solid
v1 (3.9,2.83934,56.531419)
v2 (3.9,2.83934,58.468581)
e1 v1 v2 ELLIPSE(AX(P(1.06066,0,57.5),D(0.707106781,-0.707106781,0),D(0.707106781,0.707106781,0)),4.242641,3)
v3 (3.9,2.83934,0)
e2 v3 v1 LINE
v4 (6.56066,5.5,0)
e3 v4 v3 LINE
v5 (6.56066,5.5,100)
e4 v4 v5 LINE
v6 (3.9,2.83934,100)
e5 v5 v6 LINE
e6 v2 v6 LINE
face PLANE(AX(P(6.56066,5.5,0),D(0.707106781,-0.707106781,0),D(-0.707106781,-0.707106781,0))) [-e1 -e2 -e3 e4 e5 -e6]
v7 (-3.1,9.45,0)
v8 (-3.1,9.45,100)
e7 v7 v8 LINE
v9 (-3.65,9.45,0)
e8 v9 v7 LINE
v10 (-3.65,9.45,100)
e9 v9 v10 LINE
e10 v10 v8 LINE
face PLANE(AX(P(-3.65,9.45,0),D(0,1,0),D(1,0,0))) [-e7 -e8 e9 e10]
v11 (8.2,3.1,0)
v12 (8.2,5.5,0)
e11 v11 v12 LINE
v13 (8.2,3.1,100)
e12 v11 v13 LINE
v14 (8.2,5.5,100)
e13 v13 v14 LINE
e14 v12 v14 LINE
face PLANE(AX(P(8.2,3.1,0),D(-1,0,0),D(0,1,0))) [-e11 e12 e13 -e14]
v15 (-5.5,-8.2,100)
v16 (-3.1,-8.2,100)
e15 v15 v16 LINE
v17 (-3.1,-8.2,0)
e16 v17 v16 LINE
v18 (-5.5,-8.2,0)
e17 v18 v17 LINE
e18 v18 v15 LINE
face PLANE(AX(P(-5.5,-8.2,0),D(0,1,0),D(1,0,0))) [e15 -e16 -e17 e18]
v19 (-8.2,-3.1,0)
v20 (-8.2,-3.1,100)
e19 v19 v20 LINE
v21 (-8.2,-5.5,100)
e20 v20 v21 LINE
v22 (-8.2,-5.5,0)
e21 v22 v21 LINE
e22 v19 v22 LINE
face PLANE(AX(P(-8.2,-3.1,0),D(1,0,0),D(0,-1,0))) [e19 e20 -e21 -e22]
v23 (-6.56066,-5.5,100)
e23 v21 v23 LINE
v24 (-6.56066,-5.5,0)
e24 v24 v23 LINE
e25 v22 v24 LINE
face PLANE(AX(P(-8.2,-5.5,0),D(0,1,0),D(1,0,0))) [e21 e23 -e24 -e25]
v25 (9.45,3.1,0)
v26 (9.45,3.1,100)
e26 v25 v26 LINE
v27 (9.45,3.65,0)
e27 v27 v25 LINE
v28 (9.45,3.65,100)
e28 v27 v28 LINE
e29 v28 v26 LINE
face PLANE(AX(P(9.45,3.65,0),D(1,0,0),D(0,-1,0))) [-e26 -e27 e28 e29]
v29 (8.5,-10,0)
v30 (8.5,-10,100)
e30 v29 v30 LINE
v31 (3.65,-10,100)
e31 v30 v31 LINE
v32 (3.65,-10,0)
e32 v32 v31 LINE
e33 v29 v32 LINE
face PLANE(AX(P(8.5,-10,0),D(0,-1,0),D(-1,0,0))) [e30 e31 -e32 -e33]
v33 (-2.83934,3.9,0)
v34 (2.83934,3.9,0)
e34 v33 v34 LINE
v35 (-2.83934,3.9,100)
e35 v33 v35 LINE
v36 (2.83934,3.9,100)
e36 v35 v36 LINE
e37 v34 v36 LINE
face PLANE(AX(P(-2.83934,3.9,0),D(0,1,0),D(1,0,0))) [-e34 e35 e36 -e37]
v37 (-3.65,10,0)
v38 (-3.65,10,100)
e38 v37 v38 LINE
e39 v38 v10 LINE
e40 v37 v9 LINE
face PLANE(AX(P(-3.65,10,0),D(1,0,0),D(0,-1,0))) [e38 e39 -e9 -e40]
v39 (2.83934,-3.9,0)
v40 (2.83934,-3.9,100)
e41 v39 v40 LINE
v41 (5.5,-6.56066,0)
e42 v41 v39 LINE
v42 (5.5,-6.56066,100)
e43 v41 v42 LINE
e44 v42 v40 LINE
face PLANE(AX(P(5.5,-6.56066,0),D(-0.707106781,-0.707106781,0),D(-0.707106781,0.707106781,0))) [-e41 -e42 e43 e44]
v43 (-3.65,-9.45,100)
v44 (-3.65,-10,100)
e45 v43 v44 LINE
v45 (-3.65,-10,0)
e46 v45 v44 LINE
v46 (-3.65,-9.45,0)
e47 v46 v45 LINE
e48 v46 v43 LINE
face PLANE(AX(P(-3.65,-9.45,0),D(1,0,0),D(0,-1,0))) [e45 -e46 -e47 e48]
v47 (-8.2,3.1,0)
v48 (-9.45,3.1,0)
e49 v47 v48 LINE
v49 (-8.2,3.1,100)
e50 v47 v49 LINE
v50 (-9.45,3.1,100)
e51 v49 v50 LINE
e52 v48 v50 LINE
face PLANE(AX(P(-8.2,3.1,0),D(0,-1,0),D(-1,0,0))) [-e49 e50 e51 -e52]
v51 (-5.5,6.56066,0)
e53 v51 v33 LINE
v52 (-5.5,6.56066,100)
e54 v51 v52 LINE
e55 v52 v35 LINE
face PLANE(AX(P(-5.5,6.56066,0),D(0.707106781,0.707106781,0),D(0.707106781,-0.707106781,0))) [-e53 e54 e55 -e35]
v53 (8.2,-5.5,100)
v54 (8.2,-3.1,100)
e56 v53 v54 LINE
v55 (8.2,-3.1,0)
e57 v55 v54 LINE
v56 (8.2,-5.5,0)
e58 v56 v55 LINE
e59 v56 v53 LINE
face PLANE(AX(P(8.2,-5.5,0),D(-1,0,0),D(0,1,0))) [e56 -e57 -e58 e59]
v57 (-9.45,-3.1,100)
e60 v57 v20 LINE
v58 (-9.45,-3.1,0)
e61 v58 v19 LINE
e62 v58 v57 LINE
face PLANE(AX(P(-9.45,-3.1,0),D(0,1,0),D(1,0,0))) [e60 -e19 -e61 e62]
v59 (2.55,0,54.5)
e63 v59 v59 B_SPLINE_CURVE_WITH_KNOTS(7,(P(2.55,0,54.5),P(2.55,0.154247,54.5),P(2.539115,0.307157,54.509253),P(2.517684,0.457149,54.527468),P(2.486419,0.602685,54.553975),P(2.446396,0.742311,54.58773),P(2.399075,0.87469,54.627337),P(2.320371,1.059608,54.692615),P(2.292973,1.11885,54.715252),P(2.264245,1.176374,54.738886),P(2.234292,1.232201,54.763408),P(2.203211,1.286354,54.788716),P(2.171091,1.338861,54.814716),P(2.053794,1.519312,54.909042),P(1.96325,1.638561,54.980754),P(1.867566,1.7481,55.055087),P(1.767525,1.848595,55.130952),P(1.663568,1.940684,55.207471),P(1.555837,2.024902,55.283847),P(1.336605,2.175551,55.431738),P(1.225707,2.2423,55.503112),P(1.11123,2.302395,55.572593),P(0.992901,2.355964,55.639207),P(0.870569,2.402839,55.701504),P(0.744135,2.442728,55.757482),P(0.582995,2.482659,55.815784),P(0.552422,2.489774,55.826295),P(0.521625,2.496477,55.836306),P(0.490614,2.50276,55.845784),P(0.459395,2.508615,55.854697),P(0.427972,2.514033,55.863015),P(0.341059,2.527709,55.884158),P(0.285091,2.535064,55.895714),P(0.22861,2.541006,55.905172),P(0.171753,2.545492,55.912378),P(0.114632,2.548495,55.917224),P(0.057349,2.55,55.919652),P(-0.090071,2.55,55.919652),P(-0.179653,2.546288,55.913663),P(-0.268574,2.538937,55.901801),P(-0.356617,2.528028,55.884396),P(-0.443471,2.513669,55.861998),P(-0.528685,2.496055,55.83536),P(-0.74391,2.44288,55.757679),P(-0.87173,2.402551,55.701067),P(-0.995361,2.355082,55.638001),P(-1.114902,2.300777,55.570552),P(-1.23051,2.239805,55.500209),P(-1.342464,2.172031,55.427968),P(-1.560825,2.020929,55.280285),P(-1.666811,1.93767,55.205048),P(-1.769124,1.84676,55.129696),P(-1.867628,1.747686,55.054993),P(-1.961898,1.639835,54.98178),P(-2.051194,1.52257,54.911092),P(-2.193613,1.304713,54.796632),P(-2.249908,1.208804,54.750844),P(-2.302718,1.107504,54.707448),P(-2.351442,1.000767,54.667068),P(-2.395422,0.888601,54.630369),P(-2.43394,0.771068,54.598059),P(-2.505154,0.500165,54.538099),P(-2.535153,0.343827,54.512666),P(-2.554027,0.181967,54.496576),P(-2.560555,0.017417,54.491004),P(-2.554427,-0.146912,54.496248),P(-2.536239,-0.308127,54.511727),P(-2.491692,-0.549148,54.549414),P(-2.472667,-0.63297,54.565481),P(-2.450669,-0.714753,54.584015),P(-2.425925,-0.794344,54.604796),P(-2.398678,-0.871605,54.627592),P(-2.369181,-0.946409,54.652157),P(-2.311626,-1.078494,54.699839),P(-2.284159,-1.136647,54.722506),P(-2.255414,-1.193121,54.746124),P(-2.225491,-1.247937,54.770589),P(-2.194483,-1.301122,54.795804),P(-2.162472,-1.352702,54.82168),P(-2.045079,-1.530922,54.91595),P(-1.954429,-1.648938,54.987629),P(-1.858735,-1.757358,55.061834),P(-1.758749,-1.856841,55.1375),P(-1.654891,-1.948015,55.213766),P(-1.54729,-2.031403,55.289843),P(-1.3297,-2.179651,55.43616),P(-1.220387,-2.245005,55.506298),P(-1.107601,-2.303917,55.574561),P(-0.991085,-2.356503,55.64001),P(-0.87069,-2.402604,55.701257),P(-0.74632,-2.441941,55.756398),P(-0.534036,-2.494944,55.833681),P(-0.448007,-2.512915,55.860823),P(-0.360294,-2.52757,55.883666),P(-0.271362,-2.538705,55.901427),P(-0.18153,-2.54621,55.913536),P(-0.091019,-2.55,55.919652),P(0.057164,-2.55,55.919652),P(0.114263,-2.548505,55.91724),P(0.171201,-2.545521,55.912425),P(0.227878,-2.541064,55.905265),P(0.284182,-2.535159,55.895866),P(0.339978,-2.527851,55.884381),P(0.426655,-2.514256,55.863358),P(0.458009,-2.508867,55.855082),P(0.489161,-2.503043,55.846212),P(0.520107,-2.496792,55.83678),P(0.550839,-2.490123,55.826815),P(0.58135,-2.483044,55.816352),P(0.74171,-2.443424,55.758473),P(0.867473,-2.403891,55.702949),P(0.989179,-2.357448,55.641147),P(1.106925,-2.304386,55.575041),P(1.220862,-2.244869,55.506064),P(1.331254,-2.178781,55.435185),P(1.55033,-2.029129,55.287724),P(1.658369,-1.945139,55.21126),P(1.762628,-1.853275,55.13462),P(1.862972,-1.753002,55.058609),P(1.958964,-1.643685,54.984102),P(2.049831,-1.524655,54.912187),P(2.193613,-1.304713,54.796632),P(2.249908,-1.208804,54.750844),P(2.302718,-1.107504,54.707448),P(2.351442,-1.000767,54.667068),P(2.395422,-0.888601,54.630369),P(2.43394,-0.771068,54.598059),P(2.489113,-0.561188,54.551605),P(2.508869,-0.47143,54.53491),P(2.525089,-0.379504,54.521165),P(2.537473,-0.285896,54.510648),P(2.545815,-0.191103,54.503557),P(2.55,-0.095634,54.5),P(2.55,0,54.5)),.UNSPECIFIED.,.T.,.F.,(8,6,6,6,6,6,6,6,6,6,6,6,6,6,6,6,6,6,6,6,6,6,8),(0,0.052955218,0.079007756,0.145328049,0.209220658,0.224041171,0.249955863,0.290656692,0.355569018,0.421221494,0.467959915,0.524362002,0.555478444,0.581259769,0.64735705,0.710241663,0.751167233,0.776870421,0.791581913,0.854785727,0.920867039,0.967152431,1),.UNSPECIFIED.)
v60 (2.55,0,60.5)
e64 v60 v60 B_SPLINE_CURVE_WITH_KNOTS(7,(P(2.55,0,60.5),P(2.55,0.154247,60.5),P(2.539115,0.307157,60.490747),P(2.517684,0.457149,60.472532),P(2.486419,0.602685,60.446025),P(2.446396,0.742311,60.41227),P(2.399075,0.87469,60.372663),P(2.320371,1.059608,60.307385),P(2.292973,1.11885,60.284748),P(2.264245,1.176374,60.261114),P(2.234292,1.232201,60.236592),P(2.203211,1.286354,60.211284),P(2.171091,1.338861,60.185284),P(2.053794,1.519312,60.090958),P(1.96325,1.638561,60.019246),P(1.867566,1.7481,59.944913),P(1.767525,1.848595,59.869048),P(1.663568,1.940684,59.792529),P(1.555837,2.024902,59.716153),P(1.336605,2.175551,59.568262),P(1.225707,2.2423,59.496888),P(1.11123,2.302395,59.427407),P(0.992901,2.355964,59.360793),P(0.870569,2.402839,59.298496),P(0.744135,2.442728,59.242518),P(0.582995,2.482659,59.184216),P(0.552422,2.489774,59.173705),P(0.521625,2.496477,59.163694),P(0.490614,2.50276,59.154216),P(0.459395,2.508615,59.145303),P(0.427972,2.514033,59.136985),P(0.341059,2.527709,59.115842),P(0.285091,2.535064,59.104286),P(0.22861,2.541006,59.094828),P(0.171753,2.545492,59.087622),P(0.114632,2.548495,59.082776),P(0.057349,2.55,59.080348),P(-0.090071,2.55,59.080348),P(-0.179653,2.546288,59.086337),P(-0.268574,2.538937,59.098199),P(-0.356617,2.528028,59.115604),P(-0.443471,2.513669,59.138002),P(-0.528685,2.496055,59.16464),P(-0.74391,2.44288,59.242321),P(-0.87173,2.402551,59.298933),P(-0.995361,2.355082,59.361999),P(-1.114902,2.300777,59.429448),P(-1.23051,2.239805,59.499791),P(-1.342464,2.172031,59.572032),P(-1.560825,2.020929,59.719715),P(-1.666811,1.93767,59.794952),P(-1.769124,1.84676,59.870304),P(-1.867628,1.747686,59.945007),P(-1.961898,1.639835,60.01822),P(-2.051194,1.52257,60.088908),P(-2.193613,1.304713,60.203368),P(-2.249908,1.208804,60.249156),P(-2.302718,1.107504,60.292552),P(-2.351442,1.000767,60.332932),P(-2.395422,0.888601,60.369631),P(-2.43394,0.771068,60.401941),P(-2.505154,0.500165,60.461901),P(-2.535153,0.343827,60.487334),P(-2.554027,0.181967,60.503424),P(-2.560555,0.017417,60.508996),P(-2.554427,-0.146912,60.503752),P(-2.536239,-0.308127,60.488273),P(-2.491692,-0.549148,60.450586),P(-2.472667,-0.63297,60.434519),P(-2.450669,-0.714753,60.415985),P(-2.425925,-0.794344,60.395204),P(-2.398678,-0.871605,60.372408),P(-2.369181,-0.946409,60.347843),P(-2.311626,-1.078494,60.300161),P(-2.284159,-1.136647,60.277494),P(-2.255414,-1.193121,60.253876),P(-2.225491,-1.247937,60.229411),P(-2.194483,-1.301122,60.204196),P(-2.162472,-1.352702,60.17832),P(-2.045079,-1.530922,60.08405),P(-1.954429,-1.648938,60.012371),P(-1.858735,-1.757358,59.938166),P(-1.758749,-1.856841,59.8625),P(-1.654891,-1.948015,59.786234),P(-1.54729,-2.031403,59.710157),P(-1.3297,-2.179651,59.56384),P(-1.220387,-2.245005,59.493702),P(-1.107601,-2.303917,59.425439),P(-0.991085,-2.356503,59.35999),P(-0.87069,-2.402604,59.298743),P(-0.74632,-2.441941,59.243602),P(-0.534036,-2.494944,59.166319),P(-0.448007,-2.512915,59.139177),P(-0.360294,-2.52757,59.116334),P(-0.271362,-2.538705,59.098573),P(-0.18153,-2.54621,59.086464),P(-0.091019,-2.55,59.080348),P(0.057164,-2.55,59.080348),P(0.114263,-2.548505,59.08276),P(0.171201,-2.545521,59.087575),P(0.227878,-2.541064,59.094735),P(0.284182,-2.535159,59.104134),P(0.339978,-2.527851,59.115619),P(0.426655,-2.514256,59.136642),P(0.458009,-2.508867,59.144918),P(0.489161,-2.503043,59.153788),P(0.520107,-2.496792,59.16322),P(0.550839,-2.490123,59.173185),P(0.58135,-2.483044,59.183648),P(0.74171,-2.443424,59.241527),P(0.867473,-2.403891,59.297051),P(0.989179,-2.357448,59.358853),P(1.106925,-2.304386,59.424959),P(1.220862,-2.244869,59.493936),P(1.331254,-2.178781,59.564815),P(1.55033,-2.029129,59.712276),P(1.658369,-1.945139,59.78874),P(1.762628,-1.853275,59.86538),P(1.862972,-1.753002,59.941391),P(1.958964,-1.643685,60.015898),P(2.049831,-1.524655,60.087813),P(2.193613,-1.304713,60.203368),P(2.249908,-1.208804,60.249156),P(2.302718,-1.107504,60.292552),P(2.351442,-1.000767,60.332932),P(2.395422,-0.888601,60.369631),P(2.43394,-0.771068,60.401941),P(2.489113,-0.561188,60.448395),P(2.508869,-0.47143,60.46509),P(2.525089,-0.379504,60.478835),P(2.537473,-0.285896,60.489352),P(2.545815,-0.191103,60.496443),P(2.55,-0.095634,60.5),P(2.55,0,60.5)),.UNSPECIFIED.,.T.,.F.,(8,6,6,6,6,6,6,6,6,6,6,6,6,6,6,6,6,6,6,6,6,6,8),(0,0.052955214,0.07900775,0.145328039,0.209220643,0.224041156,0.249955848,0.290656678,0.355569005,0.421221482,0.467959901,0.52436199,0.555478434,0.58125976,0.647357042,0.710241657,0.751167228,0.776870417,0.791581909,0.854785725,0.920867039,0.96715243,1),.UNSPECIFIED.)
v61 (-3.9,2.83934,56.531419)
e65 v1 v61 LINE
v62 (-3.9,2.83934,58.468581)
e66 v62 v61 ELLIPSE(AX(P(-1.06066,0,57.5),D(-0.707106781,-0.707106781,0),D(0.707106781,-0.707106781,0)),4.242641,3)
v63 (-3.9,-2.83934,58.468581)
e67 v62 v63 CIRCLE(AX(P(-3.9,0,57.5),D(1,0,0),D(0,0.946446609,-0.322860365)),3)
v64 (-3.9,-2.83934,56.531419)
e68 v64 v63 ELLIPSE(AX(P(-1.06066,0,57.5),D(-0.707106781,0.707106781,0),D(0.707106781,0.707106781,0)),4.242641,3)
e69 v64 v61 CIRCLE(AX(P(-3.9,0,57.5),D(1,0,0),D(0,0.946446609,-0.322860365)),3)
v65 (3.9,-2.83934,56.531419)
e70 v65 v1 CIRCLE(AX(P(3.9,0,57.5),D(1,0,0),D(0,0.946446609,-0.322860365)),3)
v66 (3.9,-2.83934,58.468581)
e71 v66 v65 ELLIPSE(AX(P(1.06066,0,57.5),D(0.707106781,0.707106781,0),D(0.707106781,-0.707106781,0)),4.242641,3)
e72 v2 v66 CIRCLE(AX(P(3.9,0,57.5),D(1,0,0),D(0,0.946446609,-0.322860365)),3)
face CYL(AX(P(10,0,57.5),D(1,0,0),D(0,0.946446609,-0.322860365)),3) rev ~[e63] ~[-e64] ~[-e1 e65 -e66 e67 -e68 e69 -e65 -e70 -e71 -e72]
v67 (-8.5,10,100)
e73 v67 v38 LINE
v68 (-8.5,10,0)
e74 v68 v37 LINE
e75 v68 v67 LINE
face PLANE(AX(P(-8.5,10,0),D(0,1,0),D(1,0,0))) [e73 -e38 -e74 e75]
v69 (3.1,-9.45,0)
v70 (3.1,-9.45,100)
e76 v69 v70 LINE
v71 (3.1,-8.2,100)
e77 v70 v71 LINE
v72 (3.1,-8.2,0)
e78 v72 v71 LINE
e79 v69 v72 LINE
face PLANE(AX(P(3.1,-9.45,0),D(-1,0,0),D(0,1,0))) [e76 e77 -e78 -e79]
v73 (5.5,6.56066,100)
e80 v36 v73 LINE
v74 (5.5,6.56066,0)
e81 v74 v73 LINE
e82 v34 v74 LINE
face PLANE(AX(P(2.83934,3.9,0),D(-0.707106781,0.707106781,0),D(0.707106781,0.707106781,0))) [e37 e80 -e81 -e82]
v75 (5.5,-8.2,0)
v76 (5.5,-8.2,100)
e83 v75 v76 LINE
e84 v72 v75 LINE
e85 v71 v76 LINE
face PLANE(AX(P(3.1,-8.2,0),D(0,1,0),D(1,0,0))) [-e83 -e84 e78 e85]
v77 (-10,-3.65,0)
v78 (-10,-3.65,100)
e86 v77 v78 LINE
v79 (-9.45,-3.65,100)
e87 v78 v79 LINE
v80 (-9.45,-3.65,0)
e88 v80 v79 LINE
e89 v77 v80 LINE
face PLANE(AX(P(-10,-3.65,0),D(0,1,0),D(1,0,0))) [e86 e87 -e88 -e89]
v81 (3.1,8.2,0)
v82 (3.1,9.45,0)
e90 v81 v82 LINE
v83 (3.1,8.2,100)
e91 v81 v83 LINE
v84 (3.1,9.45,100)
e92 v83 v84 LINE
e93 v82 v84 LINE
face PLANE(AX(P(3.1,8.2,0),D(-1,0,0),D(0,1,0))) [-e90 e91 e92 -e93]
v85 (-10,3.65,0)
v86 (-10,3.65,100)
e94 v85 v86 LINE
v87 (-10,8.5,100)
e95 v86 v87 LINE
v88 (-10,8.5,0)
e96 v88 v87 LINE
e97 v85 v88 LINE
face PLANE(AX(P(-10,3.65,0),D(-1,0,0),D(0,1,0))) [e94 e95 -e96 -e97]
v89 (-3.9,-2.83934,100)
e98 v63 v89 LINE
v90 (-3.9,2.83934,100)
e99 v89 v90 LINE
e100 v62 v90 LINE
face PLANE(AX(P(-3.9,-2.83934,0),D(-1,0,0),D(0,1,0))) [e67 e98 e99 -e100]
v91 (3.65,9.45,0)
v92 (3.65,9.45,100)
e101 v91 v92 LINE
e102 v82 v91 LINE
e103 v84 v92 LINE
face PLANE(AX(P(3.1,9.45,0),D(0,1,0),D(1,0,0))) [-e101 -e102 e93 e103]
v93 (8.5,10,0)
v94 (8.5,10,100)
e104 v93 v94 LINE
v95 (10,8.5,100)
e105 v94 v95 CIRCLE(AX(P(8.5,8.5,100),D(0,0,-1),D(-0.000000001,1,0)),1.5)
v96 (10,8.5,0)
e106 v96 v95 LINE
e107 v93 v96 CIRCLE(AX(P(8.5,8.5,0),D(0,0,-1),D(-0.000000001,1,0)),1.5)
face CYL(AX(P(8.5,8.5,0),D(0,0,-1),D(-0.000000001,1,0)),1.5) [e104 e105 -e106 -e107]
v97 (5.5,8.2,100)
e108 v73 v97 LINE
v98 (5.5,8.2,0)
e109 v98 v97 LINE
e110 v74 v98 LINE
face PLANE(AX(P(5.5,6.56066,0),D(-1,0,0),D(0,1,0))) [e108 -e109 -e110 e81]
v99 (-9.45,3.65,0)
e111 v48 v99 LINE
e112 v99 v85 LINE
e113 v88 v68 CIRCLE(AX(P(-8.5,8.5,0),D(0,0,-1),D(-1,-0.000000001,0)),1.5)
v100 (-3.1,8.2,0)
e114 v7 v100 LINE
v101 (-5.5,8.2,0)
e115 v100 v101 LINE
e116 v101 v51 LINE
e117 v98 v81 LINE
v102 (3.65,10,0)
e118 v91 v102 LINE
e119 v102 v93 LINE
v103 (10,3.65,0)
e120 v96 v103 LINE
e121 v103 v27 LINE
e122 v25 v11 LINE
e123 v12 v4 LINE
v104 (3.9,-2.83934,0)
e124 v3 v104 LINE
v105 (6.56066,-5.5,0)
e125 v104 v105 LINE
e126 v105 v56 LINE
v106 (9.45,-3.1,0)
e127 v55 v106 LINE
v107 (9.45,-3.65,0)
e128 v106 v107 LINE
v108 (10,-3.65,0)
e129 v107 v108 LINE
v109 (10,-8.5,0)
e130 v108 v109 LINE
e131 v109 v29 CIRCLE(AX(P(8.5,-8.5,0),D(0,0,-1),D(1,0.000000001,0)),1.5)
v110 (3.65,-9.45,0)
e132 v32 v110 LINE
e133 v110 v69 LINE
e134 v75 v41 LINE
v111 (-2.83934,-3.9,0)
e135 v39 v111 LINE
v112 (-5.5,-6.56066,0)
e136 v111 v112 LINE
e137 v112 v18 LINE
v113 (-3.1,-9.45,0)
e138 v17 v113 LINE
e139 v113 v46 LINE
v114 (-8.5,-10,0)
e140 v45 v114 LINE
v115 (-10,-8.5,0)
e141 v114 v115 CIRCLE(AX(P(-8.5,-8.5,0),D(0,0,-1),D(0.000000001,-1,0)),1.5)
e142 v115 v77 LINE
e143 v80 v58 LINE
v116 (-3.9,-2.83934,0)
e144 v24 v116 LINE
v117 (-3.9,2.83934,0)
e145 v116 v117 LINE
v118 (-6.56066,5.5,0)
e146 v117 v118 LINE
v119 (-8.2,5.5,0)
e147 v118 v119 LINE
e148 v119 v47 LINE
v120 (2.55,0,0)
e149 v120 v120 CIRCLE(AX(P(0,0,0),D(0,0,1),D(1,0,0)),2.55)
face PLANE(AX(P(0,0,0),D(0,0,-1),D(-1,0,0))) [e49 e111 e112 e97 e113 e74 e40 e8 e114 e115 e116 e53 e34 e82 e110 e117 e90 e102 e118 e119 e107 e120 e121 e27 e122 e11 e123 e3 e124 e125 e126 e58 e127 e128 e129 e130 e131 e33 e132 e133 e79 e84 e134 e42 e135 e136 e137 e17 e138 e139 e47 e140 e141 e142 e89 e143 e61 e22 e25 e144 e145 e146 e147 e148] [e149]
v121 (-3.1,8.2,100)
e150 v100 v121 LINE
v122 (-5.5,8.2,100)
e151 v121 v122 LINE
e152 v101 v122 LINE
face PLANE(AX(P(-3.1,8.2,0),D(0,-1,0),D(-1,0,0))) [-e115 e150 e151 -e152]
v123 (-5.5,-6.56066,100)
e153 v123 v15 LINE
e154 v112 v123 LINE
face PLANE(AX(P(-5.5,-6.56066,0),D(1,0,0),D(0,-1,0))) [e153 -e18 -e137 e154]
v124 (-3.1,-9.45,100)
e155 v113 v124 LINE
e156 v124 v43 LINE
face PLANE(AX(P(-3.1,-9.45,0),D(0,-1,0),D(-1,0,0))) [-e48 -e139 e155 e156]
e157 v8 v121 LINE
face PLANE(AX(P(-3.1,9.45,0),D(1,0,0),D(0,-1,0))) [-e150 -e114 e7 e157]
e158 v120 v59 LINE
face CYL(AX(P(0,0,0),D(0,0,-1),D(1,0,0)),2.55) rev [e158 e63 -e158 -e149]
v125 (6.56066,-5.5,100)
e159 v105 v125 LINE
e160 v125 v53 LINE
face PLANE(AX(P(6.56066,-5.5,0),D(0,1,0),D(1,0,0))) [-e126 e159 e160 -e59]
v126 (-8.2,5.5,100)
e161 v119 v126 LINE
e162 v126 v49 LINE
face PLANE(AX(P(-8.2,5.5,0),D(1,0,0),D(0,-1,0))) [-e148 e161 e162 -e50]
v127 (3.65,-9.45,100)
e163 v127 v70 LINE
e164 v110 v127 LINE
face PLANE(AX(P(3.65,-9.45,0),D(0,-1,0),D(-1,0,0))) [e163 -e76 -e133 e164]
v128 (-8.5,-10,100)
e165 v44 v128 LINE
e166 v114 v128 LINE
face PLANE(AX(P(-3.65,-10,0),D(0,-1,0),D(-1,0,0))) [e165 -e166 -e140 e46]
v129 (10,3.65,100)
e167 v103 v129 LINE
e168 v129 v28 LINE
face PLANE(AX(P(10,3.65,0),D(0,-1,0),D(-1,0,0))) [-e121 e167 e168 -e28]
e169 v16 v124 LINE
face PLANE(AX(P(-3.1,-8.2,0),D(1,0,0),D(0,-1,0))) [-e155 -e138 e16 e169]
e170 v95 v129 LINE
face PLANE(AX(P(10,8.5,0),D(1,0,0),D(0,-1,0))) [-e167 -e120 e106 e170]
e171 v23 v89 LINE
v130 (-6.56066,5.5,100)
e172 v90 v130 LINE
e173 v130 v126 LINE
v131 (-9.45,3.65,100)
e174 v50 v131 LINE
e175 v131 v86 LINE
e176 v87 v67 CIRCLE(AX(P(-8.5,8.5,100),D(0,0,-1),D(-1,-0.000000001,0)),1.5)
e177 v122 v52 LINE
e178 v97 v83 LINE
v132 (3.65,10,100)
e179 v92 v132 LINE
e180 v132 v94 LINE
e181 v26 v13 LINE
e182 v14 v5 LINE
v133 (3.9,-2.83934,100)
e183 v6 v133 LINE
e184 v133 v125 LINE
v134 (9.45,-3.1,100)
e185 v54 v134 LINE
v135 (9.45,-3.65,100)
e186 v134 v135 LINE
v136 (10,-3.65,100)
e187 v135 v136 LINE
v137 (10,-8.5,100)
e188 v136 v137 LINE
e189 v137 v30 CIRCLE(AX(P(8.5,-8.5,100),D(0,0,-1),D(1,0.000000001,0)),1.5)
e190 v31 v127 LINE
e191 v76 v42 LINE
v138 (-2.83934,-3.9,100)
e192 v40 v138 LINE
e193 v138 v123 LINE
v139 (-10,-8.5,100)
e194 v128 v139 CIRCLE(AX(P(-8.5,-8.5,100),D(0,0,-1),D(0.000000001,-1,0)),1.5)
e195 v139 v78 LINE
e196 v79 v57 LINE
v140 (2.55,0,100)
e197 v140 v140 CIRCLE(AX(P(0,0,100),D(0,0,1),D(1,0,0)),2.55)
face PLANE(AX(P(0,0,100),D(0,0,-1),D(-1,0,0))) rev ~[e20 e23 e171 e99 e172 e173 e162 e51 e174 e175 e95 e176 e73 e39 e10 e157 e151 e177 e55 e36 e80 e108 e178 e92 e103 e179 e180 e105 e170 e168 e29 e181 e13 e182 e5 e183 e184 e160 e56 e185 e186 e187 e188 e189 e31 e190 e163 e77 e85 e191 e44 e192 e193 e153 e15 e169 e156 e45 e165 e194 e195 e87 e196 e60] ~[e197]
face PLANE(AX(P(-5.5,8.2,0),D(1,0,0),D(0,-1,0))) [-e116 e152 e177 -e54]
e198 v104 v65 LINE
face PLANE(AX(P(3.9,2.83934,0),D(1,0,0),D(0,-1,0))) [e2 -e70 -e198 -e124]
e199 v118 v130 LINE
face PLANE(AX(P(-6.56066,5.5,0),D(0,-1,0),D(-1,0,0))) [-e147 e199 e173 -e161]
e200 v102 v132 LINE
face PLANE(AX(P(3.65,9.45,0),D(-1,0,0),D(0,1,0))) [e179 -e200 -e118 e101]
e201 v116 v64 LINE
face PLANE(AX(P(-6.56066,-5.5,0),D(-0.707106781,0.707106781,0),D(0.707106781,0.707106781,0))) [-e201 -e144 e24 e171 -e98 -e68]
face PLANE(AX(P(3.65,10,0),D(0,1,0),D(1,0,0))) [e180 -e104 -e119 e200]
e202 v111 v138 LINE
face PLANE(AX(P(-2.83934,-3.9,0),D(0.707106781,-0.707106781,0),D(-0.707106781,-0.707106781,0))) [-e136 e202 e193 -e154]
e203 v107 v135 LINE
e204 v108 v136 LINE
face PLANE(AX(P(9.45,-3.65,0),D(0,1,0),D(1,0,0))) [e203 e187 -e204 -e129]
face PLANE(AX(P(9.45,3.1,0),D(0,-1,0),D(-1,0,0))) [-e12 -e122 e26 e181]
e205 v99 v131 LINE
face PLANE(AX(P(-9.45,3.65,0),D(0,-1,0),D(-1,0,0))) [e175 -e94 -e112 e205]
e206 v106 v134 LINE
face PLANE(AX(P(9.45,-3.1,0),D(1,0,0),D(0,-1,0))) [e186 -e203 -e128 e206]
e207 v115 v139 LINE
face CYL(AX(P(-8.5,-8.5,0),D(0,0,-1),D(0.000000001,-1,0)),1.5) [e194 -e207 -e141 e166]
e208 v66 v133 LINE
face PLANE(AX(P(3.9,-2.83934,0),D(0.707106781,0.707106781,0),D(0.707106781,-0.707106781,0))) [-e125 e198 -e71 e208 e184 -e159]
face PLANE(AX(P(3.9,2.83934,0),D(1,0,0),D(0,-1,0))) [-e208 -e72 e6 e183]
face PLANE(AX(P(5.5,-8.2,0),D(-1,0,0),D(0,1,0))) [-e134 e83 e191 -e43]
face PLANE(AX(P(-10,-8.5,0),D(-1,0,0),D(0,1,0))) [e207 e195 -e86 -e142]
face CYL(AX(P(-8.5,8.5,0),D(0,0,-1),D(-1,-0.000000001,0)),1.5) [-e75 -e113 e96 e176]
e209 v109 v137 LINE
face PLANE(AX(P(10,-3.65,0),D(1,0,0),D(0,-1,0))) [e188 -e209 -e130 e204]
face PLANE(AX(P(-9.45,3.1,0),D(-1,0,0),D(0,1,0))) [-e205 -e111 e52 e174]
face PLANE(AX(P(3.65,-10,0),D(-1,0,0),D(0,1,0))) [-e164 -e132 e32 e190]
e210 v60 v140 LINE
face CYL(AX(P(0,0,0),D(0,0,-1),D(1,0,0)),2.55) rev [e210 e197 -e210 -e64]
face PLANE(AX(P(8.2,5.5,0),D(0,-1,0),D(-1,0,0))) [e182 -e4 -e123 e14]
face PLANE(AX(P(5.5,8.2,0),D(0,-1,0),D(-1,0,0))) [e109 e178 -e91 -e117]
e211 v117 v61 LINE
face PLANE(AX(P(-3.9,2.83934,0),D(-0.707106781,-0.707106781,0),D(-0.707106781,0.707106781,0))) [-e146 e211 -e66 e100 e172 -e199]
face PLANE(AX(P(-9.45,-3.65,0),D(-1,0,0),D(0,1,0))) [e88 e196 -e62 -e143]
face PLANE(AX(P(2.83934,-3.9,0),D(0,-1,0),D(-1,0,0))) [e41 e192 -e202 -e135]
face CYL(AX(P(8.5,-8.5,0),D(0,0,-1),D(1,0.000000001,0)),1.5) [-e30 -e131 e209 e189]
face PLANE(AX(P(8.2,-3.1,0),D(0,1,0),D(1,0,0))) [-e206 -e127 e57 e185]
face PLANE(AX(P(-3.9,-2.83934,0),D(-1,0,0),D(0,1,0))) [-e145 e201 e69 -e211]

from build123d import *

# Parameters (mm, degrees)
SKETCH_2_R          = 2.55
EXTRUDE_1_DEPTH     = 100
SKETCH_3_R          = 3
CUT_EXTRUDE_1_DEPTH = 103.46950766


with BuildPart() as part:
    # 草图2 → 凸台-拉伸1 (new body)
    with BuildSketch(Plane.XY):
        with BuildLine():
            Line((-3.9, 2.839339828), (-6.560660172, 5.5))
            Line((-6.560660172, 5.5), (-8.2, 5.5))
            Line((-8.2, 5.5), (-8.2, 3.1))
            Line((-8.2, 3.1), (-9.45, 3.1))
            Line((-9.45, 3.1), (-9.45, 3.65))
            Line((-9.45, 3.65), (-10, 3.65))
            Line((-10, 3.65), (-10, 8.5))
            ThreePointArc((-10, 8.5), (-9.560660172, 9.560660172), (-8.5, 10))
            Line((-8.5, 10), (-3.65, 10))
            Line((-3.65, 10), (-3.65, 9.45))
            Line((-3.65, 9.45), (-3.1, 9.45))
            Line((-3.1, 9.45), (-3.1, 8.2))
            Line((-3.1, 8.2), (-5.5, 8.2))
            Line((-5.5, 8.2), (-5.5, 6.560660172))
            Line((-5.5, 6.560660172), (-2.839339828, 3.9))
            Line((-2.839339828, 3.9), (2.839339828, 3.9))
            Line((2.839339828, 3.9), (5.5, 6.560660172))
            Line((5.5, 6.560660172), (5.5, 8.2))
            Line((5.5, 8.2), (3.1, 8.2))
            Line((3.1, 8.2), (3.1, 9.45))
            Line((3.1, 9.45), (3.65, 9.45))
            Line((3.65, 9.45), (3.65, 10))
            Line((3.65, 10), (8.5, 10))
            ThreePointArc((8.5, 10), (9.560660172, 9.560660172), (10, 8.5))
            Line((10, 8.5), (10, 3.65))
            Line((10, 3.65), (9.45, 3.65))
            Line((9.45, 3.65), (9.45, 3.1))
            Line((9.45, 3.1), (8.2, 3.1))
            Line((8.2, 3.1), (8.2, 5.5))
            Line((8.2, 5.5), (6.560660172, 5.5))
            Line((6.560660172, 5.5), (3.9, 2.839339828))
            Line((3.9, 2.839339828), (3.9, -2.839339828))
            Line((3.9, -2.839339828), (6.560660172, -5.5))
            Line((6.560660172, -5.5), (8.2, -5.5))
            Line((8.2, -5.5), (8.2, -3.1))
            Line((8.2, -3.1), (9.45, -3.1))
            Line((9.45, -3.1), (9.45, -3.65))
            Line((9.45, -3.65), (10, -3.65))
            Line((10, -3.65), (10, -8.5))
            ThreePointArc((10, -8.5), (9.560660172, -9.560660172), (8.5, -10))
            Line((8.5, -10), (3.65, -10))
            Line((3.65, -10), (3.65, -9.45))
            Line((3.65, -9.45), (3.1, -9.45))
            Line((3.1, -9.45), (3.1, -8.2))
            Line((3.1, -8.2), (5.5, -8.2))
            Line((5.5, -8.2), (5.5, -6.560660172))
            Line((5.5, -6.560660172), (2.839339828, -3.9))
            Line((2.839339828, -3.9), (-2.839339828, -3.9))
            Line((-2.839339828, -3.9), (-5.5, -6.560660172))
            Line((-5.5, -6.560660172), (-5.5, -8.2))
            Line((-5.5, -8.2), (-3.1, -8.2))
            Line((-3.1, -8.2), (-3.1, -9.45))
            Line((-3.1, -9.45), (-3.65, -9.45))
            Line((-3.65, -9.45), (-3.65, -10))
            Line((-3.65, -10), (-8.5, -10))
            ThreePointArc((-8.5, -10), (-9.560660172, -9.560660172), (-10, -8.5))
            Line((-10, -8.5), (-10, -3.65))
            Line((-10, -3.65), (-9.45, -3.65))
            Line((-9.45, -3.65), (-9.45, -3.1))
            Line((-9.45, -3.1), (-8.2, -3.1))
            Line((-8.2, -3.1), (-8.2, -5.5))
            Line((-8.2, -5.5), (-6.560660172, -5.5))
            Line((-6.560660172, -5.5), (-3.9, -2.839339828))
            Line((-3.9, -2.839339828), (-3.9, 2.839339828))
        make_face()
        Circle(SKETCH_2_R, mode=Mode.SUBTRACT)
    extrude(amount=EXTRUDE_1_DEPTH)

    # 草图3 → 切除-拉伸1 (cut, through all)
    with BuildSketch(Plane(origin=(10, 0, 0), x_dir=(0, 0, -1), z_dir=(1, 0, 0))):
        with Locations(Location((-57.5, 0, 0), (0, 0, 71.16400384))):
            Circle(SKETCH_3_R)
        with Locations((-302.5, 0)):
            Circle(SKETCH_3_R)
    extrude(amount=-CUT_EXTRUDE_1_DEPTH, mode=Mode.SUBTRACT)


solid = part.part
